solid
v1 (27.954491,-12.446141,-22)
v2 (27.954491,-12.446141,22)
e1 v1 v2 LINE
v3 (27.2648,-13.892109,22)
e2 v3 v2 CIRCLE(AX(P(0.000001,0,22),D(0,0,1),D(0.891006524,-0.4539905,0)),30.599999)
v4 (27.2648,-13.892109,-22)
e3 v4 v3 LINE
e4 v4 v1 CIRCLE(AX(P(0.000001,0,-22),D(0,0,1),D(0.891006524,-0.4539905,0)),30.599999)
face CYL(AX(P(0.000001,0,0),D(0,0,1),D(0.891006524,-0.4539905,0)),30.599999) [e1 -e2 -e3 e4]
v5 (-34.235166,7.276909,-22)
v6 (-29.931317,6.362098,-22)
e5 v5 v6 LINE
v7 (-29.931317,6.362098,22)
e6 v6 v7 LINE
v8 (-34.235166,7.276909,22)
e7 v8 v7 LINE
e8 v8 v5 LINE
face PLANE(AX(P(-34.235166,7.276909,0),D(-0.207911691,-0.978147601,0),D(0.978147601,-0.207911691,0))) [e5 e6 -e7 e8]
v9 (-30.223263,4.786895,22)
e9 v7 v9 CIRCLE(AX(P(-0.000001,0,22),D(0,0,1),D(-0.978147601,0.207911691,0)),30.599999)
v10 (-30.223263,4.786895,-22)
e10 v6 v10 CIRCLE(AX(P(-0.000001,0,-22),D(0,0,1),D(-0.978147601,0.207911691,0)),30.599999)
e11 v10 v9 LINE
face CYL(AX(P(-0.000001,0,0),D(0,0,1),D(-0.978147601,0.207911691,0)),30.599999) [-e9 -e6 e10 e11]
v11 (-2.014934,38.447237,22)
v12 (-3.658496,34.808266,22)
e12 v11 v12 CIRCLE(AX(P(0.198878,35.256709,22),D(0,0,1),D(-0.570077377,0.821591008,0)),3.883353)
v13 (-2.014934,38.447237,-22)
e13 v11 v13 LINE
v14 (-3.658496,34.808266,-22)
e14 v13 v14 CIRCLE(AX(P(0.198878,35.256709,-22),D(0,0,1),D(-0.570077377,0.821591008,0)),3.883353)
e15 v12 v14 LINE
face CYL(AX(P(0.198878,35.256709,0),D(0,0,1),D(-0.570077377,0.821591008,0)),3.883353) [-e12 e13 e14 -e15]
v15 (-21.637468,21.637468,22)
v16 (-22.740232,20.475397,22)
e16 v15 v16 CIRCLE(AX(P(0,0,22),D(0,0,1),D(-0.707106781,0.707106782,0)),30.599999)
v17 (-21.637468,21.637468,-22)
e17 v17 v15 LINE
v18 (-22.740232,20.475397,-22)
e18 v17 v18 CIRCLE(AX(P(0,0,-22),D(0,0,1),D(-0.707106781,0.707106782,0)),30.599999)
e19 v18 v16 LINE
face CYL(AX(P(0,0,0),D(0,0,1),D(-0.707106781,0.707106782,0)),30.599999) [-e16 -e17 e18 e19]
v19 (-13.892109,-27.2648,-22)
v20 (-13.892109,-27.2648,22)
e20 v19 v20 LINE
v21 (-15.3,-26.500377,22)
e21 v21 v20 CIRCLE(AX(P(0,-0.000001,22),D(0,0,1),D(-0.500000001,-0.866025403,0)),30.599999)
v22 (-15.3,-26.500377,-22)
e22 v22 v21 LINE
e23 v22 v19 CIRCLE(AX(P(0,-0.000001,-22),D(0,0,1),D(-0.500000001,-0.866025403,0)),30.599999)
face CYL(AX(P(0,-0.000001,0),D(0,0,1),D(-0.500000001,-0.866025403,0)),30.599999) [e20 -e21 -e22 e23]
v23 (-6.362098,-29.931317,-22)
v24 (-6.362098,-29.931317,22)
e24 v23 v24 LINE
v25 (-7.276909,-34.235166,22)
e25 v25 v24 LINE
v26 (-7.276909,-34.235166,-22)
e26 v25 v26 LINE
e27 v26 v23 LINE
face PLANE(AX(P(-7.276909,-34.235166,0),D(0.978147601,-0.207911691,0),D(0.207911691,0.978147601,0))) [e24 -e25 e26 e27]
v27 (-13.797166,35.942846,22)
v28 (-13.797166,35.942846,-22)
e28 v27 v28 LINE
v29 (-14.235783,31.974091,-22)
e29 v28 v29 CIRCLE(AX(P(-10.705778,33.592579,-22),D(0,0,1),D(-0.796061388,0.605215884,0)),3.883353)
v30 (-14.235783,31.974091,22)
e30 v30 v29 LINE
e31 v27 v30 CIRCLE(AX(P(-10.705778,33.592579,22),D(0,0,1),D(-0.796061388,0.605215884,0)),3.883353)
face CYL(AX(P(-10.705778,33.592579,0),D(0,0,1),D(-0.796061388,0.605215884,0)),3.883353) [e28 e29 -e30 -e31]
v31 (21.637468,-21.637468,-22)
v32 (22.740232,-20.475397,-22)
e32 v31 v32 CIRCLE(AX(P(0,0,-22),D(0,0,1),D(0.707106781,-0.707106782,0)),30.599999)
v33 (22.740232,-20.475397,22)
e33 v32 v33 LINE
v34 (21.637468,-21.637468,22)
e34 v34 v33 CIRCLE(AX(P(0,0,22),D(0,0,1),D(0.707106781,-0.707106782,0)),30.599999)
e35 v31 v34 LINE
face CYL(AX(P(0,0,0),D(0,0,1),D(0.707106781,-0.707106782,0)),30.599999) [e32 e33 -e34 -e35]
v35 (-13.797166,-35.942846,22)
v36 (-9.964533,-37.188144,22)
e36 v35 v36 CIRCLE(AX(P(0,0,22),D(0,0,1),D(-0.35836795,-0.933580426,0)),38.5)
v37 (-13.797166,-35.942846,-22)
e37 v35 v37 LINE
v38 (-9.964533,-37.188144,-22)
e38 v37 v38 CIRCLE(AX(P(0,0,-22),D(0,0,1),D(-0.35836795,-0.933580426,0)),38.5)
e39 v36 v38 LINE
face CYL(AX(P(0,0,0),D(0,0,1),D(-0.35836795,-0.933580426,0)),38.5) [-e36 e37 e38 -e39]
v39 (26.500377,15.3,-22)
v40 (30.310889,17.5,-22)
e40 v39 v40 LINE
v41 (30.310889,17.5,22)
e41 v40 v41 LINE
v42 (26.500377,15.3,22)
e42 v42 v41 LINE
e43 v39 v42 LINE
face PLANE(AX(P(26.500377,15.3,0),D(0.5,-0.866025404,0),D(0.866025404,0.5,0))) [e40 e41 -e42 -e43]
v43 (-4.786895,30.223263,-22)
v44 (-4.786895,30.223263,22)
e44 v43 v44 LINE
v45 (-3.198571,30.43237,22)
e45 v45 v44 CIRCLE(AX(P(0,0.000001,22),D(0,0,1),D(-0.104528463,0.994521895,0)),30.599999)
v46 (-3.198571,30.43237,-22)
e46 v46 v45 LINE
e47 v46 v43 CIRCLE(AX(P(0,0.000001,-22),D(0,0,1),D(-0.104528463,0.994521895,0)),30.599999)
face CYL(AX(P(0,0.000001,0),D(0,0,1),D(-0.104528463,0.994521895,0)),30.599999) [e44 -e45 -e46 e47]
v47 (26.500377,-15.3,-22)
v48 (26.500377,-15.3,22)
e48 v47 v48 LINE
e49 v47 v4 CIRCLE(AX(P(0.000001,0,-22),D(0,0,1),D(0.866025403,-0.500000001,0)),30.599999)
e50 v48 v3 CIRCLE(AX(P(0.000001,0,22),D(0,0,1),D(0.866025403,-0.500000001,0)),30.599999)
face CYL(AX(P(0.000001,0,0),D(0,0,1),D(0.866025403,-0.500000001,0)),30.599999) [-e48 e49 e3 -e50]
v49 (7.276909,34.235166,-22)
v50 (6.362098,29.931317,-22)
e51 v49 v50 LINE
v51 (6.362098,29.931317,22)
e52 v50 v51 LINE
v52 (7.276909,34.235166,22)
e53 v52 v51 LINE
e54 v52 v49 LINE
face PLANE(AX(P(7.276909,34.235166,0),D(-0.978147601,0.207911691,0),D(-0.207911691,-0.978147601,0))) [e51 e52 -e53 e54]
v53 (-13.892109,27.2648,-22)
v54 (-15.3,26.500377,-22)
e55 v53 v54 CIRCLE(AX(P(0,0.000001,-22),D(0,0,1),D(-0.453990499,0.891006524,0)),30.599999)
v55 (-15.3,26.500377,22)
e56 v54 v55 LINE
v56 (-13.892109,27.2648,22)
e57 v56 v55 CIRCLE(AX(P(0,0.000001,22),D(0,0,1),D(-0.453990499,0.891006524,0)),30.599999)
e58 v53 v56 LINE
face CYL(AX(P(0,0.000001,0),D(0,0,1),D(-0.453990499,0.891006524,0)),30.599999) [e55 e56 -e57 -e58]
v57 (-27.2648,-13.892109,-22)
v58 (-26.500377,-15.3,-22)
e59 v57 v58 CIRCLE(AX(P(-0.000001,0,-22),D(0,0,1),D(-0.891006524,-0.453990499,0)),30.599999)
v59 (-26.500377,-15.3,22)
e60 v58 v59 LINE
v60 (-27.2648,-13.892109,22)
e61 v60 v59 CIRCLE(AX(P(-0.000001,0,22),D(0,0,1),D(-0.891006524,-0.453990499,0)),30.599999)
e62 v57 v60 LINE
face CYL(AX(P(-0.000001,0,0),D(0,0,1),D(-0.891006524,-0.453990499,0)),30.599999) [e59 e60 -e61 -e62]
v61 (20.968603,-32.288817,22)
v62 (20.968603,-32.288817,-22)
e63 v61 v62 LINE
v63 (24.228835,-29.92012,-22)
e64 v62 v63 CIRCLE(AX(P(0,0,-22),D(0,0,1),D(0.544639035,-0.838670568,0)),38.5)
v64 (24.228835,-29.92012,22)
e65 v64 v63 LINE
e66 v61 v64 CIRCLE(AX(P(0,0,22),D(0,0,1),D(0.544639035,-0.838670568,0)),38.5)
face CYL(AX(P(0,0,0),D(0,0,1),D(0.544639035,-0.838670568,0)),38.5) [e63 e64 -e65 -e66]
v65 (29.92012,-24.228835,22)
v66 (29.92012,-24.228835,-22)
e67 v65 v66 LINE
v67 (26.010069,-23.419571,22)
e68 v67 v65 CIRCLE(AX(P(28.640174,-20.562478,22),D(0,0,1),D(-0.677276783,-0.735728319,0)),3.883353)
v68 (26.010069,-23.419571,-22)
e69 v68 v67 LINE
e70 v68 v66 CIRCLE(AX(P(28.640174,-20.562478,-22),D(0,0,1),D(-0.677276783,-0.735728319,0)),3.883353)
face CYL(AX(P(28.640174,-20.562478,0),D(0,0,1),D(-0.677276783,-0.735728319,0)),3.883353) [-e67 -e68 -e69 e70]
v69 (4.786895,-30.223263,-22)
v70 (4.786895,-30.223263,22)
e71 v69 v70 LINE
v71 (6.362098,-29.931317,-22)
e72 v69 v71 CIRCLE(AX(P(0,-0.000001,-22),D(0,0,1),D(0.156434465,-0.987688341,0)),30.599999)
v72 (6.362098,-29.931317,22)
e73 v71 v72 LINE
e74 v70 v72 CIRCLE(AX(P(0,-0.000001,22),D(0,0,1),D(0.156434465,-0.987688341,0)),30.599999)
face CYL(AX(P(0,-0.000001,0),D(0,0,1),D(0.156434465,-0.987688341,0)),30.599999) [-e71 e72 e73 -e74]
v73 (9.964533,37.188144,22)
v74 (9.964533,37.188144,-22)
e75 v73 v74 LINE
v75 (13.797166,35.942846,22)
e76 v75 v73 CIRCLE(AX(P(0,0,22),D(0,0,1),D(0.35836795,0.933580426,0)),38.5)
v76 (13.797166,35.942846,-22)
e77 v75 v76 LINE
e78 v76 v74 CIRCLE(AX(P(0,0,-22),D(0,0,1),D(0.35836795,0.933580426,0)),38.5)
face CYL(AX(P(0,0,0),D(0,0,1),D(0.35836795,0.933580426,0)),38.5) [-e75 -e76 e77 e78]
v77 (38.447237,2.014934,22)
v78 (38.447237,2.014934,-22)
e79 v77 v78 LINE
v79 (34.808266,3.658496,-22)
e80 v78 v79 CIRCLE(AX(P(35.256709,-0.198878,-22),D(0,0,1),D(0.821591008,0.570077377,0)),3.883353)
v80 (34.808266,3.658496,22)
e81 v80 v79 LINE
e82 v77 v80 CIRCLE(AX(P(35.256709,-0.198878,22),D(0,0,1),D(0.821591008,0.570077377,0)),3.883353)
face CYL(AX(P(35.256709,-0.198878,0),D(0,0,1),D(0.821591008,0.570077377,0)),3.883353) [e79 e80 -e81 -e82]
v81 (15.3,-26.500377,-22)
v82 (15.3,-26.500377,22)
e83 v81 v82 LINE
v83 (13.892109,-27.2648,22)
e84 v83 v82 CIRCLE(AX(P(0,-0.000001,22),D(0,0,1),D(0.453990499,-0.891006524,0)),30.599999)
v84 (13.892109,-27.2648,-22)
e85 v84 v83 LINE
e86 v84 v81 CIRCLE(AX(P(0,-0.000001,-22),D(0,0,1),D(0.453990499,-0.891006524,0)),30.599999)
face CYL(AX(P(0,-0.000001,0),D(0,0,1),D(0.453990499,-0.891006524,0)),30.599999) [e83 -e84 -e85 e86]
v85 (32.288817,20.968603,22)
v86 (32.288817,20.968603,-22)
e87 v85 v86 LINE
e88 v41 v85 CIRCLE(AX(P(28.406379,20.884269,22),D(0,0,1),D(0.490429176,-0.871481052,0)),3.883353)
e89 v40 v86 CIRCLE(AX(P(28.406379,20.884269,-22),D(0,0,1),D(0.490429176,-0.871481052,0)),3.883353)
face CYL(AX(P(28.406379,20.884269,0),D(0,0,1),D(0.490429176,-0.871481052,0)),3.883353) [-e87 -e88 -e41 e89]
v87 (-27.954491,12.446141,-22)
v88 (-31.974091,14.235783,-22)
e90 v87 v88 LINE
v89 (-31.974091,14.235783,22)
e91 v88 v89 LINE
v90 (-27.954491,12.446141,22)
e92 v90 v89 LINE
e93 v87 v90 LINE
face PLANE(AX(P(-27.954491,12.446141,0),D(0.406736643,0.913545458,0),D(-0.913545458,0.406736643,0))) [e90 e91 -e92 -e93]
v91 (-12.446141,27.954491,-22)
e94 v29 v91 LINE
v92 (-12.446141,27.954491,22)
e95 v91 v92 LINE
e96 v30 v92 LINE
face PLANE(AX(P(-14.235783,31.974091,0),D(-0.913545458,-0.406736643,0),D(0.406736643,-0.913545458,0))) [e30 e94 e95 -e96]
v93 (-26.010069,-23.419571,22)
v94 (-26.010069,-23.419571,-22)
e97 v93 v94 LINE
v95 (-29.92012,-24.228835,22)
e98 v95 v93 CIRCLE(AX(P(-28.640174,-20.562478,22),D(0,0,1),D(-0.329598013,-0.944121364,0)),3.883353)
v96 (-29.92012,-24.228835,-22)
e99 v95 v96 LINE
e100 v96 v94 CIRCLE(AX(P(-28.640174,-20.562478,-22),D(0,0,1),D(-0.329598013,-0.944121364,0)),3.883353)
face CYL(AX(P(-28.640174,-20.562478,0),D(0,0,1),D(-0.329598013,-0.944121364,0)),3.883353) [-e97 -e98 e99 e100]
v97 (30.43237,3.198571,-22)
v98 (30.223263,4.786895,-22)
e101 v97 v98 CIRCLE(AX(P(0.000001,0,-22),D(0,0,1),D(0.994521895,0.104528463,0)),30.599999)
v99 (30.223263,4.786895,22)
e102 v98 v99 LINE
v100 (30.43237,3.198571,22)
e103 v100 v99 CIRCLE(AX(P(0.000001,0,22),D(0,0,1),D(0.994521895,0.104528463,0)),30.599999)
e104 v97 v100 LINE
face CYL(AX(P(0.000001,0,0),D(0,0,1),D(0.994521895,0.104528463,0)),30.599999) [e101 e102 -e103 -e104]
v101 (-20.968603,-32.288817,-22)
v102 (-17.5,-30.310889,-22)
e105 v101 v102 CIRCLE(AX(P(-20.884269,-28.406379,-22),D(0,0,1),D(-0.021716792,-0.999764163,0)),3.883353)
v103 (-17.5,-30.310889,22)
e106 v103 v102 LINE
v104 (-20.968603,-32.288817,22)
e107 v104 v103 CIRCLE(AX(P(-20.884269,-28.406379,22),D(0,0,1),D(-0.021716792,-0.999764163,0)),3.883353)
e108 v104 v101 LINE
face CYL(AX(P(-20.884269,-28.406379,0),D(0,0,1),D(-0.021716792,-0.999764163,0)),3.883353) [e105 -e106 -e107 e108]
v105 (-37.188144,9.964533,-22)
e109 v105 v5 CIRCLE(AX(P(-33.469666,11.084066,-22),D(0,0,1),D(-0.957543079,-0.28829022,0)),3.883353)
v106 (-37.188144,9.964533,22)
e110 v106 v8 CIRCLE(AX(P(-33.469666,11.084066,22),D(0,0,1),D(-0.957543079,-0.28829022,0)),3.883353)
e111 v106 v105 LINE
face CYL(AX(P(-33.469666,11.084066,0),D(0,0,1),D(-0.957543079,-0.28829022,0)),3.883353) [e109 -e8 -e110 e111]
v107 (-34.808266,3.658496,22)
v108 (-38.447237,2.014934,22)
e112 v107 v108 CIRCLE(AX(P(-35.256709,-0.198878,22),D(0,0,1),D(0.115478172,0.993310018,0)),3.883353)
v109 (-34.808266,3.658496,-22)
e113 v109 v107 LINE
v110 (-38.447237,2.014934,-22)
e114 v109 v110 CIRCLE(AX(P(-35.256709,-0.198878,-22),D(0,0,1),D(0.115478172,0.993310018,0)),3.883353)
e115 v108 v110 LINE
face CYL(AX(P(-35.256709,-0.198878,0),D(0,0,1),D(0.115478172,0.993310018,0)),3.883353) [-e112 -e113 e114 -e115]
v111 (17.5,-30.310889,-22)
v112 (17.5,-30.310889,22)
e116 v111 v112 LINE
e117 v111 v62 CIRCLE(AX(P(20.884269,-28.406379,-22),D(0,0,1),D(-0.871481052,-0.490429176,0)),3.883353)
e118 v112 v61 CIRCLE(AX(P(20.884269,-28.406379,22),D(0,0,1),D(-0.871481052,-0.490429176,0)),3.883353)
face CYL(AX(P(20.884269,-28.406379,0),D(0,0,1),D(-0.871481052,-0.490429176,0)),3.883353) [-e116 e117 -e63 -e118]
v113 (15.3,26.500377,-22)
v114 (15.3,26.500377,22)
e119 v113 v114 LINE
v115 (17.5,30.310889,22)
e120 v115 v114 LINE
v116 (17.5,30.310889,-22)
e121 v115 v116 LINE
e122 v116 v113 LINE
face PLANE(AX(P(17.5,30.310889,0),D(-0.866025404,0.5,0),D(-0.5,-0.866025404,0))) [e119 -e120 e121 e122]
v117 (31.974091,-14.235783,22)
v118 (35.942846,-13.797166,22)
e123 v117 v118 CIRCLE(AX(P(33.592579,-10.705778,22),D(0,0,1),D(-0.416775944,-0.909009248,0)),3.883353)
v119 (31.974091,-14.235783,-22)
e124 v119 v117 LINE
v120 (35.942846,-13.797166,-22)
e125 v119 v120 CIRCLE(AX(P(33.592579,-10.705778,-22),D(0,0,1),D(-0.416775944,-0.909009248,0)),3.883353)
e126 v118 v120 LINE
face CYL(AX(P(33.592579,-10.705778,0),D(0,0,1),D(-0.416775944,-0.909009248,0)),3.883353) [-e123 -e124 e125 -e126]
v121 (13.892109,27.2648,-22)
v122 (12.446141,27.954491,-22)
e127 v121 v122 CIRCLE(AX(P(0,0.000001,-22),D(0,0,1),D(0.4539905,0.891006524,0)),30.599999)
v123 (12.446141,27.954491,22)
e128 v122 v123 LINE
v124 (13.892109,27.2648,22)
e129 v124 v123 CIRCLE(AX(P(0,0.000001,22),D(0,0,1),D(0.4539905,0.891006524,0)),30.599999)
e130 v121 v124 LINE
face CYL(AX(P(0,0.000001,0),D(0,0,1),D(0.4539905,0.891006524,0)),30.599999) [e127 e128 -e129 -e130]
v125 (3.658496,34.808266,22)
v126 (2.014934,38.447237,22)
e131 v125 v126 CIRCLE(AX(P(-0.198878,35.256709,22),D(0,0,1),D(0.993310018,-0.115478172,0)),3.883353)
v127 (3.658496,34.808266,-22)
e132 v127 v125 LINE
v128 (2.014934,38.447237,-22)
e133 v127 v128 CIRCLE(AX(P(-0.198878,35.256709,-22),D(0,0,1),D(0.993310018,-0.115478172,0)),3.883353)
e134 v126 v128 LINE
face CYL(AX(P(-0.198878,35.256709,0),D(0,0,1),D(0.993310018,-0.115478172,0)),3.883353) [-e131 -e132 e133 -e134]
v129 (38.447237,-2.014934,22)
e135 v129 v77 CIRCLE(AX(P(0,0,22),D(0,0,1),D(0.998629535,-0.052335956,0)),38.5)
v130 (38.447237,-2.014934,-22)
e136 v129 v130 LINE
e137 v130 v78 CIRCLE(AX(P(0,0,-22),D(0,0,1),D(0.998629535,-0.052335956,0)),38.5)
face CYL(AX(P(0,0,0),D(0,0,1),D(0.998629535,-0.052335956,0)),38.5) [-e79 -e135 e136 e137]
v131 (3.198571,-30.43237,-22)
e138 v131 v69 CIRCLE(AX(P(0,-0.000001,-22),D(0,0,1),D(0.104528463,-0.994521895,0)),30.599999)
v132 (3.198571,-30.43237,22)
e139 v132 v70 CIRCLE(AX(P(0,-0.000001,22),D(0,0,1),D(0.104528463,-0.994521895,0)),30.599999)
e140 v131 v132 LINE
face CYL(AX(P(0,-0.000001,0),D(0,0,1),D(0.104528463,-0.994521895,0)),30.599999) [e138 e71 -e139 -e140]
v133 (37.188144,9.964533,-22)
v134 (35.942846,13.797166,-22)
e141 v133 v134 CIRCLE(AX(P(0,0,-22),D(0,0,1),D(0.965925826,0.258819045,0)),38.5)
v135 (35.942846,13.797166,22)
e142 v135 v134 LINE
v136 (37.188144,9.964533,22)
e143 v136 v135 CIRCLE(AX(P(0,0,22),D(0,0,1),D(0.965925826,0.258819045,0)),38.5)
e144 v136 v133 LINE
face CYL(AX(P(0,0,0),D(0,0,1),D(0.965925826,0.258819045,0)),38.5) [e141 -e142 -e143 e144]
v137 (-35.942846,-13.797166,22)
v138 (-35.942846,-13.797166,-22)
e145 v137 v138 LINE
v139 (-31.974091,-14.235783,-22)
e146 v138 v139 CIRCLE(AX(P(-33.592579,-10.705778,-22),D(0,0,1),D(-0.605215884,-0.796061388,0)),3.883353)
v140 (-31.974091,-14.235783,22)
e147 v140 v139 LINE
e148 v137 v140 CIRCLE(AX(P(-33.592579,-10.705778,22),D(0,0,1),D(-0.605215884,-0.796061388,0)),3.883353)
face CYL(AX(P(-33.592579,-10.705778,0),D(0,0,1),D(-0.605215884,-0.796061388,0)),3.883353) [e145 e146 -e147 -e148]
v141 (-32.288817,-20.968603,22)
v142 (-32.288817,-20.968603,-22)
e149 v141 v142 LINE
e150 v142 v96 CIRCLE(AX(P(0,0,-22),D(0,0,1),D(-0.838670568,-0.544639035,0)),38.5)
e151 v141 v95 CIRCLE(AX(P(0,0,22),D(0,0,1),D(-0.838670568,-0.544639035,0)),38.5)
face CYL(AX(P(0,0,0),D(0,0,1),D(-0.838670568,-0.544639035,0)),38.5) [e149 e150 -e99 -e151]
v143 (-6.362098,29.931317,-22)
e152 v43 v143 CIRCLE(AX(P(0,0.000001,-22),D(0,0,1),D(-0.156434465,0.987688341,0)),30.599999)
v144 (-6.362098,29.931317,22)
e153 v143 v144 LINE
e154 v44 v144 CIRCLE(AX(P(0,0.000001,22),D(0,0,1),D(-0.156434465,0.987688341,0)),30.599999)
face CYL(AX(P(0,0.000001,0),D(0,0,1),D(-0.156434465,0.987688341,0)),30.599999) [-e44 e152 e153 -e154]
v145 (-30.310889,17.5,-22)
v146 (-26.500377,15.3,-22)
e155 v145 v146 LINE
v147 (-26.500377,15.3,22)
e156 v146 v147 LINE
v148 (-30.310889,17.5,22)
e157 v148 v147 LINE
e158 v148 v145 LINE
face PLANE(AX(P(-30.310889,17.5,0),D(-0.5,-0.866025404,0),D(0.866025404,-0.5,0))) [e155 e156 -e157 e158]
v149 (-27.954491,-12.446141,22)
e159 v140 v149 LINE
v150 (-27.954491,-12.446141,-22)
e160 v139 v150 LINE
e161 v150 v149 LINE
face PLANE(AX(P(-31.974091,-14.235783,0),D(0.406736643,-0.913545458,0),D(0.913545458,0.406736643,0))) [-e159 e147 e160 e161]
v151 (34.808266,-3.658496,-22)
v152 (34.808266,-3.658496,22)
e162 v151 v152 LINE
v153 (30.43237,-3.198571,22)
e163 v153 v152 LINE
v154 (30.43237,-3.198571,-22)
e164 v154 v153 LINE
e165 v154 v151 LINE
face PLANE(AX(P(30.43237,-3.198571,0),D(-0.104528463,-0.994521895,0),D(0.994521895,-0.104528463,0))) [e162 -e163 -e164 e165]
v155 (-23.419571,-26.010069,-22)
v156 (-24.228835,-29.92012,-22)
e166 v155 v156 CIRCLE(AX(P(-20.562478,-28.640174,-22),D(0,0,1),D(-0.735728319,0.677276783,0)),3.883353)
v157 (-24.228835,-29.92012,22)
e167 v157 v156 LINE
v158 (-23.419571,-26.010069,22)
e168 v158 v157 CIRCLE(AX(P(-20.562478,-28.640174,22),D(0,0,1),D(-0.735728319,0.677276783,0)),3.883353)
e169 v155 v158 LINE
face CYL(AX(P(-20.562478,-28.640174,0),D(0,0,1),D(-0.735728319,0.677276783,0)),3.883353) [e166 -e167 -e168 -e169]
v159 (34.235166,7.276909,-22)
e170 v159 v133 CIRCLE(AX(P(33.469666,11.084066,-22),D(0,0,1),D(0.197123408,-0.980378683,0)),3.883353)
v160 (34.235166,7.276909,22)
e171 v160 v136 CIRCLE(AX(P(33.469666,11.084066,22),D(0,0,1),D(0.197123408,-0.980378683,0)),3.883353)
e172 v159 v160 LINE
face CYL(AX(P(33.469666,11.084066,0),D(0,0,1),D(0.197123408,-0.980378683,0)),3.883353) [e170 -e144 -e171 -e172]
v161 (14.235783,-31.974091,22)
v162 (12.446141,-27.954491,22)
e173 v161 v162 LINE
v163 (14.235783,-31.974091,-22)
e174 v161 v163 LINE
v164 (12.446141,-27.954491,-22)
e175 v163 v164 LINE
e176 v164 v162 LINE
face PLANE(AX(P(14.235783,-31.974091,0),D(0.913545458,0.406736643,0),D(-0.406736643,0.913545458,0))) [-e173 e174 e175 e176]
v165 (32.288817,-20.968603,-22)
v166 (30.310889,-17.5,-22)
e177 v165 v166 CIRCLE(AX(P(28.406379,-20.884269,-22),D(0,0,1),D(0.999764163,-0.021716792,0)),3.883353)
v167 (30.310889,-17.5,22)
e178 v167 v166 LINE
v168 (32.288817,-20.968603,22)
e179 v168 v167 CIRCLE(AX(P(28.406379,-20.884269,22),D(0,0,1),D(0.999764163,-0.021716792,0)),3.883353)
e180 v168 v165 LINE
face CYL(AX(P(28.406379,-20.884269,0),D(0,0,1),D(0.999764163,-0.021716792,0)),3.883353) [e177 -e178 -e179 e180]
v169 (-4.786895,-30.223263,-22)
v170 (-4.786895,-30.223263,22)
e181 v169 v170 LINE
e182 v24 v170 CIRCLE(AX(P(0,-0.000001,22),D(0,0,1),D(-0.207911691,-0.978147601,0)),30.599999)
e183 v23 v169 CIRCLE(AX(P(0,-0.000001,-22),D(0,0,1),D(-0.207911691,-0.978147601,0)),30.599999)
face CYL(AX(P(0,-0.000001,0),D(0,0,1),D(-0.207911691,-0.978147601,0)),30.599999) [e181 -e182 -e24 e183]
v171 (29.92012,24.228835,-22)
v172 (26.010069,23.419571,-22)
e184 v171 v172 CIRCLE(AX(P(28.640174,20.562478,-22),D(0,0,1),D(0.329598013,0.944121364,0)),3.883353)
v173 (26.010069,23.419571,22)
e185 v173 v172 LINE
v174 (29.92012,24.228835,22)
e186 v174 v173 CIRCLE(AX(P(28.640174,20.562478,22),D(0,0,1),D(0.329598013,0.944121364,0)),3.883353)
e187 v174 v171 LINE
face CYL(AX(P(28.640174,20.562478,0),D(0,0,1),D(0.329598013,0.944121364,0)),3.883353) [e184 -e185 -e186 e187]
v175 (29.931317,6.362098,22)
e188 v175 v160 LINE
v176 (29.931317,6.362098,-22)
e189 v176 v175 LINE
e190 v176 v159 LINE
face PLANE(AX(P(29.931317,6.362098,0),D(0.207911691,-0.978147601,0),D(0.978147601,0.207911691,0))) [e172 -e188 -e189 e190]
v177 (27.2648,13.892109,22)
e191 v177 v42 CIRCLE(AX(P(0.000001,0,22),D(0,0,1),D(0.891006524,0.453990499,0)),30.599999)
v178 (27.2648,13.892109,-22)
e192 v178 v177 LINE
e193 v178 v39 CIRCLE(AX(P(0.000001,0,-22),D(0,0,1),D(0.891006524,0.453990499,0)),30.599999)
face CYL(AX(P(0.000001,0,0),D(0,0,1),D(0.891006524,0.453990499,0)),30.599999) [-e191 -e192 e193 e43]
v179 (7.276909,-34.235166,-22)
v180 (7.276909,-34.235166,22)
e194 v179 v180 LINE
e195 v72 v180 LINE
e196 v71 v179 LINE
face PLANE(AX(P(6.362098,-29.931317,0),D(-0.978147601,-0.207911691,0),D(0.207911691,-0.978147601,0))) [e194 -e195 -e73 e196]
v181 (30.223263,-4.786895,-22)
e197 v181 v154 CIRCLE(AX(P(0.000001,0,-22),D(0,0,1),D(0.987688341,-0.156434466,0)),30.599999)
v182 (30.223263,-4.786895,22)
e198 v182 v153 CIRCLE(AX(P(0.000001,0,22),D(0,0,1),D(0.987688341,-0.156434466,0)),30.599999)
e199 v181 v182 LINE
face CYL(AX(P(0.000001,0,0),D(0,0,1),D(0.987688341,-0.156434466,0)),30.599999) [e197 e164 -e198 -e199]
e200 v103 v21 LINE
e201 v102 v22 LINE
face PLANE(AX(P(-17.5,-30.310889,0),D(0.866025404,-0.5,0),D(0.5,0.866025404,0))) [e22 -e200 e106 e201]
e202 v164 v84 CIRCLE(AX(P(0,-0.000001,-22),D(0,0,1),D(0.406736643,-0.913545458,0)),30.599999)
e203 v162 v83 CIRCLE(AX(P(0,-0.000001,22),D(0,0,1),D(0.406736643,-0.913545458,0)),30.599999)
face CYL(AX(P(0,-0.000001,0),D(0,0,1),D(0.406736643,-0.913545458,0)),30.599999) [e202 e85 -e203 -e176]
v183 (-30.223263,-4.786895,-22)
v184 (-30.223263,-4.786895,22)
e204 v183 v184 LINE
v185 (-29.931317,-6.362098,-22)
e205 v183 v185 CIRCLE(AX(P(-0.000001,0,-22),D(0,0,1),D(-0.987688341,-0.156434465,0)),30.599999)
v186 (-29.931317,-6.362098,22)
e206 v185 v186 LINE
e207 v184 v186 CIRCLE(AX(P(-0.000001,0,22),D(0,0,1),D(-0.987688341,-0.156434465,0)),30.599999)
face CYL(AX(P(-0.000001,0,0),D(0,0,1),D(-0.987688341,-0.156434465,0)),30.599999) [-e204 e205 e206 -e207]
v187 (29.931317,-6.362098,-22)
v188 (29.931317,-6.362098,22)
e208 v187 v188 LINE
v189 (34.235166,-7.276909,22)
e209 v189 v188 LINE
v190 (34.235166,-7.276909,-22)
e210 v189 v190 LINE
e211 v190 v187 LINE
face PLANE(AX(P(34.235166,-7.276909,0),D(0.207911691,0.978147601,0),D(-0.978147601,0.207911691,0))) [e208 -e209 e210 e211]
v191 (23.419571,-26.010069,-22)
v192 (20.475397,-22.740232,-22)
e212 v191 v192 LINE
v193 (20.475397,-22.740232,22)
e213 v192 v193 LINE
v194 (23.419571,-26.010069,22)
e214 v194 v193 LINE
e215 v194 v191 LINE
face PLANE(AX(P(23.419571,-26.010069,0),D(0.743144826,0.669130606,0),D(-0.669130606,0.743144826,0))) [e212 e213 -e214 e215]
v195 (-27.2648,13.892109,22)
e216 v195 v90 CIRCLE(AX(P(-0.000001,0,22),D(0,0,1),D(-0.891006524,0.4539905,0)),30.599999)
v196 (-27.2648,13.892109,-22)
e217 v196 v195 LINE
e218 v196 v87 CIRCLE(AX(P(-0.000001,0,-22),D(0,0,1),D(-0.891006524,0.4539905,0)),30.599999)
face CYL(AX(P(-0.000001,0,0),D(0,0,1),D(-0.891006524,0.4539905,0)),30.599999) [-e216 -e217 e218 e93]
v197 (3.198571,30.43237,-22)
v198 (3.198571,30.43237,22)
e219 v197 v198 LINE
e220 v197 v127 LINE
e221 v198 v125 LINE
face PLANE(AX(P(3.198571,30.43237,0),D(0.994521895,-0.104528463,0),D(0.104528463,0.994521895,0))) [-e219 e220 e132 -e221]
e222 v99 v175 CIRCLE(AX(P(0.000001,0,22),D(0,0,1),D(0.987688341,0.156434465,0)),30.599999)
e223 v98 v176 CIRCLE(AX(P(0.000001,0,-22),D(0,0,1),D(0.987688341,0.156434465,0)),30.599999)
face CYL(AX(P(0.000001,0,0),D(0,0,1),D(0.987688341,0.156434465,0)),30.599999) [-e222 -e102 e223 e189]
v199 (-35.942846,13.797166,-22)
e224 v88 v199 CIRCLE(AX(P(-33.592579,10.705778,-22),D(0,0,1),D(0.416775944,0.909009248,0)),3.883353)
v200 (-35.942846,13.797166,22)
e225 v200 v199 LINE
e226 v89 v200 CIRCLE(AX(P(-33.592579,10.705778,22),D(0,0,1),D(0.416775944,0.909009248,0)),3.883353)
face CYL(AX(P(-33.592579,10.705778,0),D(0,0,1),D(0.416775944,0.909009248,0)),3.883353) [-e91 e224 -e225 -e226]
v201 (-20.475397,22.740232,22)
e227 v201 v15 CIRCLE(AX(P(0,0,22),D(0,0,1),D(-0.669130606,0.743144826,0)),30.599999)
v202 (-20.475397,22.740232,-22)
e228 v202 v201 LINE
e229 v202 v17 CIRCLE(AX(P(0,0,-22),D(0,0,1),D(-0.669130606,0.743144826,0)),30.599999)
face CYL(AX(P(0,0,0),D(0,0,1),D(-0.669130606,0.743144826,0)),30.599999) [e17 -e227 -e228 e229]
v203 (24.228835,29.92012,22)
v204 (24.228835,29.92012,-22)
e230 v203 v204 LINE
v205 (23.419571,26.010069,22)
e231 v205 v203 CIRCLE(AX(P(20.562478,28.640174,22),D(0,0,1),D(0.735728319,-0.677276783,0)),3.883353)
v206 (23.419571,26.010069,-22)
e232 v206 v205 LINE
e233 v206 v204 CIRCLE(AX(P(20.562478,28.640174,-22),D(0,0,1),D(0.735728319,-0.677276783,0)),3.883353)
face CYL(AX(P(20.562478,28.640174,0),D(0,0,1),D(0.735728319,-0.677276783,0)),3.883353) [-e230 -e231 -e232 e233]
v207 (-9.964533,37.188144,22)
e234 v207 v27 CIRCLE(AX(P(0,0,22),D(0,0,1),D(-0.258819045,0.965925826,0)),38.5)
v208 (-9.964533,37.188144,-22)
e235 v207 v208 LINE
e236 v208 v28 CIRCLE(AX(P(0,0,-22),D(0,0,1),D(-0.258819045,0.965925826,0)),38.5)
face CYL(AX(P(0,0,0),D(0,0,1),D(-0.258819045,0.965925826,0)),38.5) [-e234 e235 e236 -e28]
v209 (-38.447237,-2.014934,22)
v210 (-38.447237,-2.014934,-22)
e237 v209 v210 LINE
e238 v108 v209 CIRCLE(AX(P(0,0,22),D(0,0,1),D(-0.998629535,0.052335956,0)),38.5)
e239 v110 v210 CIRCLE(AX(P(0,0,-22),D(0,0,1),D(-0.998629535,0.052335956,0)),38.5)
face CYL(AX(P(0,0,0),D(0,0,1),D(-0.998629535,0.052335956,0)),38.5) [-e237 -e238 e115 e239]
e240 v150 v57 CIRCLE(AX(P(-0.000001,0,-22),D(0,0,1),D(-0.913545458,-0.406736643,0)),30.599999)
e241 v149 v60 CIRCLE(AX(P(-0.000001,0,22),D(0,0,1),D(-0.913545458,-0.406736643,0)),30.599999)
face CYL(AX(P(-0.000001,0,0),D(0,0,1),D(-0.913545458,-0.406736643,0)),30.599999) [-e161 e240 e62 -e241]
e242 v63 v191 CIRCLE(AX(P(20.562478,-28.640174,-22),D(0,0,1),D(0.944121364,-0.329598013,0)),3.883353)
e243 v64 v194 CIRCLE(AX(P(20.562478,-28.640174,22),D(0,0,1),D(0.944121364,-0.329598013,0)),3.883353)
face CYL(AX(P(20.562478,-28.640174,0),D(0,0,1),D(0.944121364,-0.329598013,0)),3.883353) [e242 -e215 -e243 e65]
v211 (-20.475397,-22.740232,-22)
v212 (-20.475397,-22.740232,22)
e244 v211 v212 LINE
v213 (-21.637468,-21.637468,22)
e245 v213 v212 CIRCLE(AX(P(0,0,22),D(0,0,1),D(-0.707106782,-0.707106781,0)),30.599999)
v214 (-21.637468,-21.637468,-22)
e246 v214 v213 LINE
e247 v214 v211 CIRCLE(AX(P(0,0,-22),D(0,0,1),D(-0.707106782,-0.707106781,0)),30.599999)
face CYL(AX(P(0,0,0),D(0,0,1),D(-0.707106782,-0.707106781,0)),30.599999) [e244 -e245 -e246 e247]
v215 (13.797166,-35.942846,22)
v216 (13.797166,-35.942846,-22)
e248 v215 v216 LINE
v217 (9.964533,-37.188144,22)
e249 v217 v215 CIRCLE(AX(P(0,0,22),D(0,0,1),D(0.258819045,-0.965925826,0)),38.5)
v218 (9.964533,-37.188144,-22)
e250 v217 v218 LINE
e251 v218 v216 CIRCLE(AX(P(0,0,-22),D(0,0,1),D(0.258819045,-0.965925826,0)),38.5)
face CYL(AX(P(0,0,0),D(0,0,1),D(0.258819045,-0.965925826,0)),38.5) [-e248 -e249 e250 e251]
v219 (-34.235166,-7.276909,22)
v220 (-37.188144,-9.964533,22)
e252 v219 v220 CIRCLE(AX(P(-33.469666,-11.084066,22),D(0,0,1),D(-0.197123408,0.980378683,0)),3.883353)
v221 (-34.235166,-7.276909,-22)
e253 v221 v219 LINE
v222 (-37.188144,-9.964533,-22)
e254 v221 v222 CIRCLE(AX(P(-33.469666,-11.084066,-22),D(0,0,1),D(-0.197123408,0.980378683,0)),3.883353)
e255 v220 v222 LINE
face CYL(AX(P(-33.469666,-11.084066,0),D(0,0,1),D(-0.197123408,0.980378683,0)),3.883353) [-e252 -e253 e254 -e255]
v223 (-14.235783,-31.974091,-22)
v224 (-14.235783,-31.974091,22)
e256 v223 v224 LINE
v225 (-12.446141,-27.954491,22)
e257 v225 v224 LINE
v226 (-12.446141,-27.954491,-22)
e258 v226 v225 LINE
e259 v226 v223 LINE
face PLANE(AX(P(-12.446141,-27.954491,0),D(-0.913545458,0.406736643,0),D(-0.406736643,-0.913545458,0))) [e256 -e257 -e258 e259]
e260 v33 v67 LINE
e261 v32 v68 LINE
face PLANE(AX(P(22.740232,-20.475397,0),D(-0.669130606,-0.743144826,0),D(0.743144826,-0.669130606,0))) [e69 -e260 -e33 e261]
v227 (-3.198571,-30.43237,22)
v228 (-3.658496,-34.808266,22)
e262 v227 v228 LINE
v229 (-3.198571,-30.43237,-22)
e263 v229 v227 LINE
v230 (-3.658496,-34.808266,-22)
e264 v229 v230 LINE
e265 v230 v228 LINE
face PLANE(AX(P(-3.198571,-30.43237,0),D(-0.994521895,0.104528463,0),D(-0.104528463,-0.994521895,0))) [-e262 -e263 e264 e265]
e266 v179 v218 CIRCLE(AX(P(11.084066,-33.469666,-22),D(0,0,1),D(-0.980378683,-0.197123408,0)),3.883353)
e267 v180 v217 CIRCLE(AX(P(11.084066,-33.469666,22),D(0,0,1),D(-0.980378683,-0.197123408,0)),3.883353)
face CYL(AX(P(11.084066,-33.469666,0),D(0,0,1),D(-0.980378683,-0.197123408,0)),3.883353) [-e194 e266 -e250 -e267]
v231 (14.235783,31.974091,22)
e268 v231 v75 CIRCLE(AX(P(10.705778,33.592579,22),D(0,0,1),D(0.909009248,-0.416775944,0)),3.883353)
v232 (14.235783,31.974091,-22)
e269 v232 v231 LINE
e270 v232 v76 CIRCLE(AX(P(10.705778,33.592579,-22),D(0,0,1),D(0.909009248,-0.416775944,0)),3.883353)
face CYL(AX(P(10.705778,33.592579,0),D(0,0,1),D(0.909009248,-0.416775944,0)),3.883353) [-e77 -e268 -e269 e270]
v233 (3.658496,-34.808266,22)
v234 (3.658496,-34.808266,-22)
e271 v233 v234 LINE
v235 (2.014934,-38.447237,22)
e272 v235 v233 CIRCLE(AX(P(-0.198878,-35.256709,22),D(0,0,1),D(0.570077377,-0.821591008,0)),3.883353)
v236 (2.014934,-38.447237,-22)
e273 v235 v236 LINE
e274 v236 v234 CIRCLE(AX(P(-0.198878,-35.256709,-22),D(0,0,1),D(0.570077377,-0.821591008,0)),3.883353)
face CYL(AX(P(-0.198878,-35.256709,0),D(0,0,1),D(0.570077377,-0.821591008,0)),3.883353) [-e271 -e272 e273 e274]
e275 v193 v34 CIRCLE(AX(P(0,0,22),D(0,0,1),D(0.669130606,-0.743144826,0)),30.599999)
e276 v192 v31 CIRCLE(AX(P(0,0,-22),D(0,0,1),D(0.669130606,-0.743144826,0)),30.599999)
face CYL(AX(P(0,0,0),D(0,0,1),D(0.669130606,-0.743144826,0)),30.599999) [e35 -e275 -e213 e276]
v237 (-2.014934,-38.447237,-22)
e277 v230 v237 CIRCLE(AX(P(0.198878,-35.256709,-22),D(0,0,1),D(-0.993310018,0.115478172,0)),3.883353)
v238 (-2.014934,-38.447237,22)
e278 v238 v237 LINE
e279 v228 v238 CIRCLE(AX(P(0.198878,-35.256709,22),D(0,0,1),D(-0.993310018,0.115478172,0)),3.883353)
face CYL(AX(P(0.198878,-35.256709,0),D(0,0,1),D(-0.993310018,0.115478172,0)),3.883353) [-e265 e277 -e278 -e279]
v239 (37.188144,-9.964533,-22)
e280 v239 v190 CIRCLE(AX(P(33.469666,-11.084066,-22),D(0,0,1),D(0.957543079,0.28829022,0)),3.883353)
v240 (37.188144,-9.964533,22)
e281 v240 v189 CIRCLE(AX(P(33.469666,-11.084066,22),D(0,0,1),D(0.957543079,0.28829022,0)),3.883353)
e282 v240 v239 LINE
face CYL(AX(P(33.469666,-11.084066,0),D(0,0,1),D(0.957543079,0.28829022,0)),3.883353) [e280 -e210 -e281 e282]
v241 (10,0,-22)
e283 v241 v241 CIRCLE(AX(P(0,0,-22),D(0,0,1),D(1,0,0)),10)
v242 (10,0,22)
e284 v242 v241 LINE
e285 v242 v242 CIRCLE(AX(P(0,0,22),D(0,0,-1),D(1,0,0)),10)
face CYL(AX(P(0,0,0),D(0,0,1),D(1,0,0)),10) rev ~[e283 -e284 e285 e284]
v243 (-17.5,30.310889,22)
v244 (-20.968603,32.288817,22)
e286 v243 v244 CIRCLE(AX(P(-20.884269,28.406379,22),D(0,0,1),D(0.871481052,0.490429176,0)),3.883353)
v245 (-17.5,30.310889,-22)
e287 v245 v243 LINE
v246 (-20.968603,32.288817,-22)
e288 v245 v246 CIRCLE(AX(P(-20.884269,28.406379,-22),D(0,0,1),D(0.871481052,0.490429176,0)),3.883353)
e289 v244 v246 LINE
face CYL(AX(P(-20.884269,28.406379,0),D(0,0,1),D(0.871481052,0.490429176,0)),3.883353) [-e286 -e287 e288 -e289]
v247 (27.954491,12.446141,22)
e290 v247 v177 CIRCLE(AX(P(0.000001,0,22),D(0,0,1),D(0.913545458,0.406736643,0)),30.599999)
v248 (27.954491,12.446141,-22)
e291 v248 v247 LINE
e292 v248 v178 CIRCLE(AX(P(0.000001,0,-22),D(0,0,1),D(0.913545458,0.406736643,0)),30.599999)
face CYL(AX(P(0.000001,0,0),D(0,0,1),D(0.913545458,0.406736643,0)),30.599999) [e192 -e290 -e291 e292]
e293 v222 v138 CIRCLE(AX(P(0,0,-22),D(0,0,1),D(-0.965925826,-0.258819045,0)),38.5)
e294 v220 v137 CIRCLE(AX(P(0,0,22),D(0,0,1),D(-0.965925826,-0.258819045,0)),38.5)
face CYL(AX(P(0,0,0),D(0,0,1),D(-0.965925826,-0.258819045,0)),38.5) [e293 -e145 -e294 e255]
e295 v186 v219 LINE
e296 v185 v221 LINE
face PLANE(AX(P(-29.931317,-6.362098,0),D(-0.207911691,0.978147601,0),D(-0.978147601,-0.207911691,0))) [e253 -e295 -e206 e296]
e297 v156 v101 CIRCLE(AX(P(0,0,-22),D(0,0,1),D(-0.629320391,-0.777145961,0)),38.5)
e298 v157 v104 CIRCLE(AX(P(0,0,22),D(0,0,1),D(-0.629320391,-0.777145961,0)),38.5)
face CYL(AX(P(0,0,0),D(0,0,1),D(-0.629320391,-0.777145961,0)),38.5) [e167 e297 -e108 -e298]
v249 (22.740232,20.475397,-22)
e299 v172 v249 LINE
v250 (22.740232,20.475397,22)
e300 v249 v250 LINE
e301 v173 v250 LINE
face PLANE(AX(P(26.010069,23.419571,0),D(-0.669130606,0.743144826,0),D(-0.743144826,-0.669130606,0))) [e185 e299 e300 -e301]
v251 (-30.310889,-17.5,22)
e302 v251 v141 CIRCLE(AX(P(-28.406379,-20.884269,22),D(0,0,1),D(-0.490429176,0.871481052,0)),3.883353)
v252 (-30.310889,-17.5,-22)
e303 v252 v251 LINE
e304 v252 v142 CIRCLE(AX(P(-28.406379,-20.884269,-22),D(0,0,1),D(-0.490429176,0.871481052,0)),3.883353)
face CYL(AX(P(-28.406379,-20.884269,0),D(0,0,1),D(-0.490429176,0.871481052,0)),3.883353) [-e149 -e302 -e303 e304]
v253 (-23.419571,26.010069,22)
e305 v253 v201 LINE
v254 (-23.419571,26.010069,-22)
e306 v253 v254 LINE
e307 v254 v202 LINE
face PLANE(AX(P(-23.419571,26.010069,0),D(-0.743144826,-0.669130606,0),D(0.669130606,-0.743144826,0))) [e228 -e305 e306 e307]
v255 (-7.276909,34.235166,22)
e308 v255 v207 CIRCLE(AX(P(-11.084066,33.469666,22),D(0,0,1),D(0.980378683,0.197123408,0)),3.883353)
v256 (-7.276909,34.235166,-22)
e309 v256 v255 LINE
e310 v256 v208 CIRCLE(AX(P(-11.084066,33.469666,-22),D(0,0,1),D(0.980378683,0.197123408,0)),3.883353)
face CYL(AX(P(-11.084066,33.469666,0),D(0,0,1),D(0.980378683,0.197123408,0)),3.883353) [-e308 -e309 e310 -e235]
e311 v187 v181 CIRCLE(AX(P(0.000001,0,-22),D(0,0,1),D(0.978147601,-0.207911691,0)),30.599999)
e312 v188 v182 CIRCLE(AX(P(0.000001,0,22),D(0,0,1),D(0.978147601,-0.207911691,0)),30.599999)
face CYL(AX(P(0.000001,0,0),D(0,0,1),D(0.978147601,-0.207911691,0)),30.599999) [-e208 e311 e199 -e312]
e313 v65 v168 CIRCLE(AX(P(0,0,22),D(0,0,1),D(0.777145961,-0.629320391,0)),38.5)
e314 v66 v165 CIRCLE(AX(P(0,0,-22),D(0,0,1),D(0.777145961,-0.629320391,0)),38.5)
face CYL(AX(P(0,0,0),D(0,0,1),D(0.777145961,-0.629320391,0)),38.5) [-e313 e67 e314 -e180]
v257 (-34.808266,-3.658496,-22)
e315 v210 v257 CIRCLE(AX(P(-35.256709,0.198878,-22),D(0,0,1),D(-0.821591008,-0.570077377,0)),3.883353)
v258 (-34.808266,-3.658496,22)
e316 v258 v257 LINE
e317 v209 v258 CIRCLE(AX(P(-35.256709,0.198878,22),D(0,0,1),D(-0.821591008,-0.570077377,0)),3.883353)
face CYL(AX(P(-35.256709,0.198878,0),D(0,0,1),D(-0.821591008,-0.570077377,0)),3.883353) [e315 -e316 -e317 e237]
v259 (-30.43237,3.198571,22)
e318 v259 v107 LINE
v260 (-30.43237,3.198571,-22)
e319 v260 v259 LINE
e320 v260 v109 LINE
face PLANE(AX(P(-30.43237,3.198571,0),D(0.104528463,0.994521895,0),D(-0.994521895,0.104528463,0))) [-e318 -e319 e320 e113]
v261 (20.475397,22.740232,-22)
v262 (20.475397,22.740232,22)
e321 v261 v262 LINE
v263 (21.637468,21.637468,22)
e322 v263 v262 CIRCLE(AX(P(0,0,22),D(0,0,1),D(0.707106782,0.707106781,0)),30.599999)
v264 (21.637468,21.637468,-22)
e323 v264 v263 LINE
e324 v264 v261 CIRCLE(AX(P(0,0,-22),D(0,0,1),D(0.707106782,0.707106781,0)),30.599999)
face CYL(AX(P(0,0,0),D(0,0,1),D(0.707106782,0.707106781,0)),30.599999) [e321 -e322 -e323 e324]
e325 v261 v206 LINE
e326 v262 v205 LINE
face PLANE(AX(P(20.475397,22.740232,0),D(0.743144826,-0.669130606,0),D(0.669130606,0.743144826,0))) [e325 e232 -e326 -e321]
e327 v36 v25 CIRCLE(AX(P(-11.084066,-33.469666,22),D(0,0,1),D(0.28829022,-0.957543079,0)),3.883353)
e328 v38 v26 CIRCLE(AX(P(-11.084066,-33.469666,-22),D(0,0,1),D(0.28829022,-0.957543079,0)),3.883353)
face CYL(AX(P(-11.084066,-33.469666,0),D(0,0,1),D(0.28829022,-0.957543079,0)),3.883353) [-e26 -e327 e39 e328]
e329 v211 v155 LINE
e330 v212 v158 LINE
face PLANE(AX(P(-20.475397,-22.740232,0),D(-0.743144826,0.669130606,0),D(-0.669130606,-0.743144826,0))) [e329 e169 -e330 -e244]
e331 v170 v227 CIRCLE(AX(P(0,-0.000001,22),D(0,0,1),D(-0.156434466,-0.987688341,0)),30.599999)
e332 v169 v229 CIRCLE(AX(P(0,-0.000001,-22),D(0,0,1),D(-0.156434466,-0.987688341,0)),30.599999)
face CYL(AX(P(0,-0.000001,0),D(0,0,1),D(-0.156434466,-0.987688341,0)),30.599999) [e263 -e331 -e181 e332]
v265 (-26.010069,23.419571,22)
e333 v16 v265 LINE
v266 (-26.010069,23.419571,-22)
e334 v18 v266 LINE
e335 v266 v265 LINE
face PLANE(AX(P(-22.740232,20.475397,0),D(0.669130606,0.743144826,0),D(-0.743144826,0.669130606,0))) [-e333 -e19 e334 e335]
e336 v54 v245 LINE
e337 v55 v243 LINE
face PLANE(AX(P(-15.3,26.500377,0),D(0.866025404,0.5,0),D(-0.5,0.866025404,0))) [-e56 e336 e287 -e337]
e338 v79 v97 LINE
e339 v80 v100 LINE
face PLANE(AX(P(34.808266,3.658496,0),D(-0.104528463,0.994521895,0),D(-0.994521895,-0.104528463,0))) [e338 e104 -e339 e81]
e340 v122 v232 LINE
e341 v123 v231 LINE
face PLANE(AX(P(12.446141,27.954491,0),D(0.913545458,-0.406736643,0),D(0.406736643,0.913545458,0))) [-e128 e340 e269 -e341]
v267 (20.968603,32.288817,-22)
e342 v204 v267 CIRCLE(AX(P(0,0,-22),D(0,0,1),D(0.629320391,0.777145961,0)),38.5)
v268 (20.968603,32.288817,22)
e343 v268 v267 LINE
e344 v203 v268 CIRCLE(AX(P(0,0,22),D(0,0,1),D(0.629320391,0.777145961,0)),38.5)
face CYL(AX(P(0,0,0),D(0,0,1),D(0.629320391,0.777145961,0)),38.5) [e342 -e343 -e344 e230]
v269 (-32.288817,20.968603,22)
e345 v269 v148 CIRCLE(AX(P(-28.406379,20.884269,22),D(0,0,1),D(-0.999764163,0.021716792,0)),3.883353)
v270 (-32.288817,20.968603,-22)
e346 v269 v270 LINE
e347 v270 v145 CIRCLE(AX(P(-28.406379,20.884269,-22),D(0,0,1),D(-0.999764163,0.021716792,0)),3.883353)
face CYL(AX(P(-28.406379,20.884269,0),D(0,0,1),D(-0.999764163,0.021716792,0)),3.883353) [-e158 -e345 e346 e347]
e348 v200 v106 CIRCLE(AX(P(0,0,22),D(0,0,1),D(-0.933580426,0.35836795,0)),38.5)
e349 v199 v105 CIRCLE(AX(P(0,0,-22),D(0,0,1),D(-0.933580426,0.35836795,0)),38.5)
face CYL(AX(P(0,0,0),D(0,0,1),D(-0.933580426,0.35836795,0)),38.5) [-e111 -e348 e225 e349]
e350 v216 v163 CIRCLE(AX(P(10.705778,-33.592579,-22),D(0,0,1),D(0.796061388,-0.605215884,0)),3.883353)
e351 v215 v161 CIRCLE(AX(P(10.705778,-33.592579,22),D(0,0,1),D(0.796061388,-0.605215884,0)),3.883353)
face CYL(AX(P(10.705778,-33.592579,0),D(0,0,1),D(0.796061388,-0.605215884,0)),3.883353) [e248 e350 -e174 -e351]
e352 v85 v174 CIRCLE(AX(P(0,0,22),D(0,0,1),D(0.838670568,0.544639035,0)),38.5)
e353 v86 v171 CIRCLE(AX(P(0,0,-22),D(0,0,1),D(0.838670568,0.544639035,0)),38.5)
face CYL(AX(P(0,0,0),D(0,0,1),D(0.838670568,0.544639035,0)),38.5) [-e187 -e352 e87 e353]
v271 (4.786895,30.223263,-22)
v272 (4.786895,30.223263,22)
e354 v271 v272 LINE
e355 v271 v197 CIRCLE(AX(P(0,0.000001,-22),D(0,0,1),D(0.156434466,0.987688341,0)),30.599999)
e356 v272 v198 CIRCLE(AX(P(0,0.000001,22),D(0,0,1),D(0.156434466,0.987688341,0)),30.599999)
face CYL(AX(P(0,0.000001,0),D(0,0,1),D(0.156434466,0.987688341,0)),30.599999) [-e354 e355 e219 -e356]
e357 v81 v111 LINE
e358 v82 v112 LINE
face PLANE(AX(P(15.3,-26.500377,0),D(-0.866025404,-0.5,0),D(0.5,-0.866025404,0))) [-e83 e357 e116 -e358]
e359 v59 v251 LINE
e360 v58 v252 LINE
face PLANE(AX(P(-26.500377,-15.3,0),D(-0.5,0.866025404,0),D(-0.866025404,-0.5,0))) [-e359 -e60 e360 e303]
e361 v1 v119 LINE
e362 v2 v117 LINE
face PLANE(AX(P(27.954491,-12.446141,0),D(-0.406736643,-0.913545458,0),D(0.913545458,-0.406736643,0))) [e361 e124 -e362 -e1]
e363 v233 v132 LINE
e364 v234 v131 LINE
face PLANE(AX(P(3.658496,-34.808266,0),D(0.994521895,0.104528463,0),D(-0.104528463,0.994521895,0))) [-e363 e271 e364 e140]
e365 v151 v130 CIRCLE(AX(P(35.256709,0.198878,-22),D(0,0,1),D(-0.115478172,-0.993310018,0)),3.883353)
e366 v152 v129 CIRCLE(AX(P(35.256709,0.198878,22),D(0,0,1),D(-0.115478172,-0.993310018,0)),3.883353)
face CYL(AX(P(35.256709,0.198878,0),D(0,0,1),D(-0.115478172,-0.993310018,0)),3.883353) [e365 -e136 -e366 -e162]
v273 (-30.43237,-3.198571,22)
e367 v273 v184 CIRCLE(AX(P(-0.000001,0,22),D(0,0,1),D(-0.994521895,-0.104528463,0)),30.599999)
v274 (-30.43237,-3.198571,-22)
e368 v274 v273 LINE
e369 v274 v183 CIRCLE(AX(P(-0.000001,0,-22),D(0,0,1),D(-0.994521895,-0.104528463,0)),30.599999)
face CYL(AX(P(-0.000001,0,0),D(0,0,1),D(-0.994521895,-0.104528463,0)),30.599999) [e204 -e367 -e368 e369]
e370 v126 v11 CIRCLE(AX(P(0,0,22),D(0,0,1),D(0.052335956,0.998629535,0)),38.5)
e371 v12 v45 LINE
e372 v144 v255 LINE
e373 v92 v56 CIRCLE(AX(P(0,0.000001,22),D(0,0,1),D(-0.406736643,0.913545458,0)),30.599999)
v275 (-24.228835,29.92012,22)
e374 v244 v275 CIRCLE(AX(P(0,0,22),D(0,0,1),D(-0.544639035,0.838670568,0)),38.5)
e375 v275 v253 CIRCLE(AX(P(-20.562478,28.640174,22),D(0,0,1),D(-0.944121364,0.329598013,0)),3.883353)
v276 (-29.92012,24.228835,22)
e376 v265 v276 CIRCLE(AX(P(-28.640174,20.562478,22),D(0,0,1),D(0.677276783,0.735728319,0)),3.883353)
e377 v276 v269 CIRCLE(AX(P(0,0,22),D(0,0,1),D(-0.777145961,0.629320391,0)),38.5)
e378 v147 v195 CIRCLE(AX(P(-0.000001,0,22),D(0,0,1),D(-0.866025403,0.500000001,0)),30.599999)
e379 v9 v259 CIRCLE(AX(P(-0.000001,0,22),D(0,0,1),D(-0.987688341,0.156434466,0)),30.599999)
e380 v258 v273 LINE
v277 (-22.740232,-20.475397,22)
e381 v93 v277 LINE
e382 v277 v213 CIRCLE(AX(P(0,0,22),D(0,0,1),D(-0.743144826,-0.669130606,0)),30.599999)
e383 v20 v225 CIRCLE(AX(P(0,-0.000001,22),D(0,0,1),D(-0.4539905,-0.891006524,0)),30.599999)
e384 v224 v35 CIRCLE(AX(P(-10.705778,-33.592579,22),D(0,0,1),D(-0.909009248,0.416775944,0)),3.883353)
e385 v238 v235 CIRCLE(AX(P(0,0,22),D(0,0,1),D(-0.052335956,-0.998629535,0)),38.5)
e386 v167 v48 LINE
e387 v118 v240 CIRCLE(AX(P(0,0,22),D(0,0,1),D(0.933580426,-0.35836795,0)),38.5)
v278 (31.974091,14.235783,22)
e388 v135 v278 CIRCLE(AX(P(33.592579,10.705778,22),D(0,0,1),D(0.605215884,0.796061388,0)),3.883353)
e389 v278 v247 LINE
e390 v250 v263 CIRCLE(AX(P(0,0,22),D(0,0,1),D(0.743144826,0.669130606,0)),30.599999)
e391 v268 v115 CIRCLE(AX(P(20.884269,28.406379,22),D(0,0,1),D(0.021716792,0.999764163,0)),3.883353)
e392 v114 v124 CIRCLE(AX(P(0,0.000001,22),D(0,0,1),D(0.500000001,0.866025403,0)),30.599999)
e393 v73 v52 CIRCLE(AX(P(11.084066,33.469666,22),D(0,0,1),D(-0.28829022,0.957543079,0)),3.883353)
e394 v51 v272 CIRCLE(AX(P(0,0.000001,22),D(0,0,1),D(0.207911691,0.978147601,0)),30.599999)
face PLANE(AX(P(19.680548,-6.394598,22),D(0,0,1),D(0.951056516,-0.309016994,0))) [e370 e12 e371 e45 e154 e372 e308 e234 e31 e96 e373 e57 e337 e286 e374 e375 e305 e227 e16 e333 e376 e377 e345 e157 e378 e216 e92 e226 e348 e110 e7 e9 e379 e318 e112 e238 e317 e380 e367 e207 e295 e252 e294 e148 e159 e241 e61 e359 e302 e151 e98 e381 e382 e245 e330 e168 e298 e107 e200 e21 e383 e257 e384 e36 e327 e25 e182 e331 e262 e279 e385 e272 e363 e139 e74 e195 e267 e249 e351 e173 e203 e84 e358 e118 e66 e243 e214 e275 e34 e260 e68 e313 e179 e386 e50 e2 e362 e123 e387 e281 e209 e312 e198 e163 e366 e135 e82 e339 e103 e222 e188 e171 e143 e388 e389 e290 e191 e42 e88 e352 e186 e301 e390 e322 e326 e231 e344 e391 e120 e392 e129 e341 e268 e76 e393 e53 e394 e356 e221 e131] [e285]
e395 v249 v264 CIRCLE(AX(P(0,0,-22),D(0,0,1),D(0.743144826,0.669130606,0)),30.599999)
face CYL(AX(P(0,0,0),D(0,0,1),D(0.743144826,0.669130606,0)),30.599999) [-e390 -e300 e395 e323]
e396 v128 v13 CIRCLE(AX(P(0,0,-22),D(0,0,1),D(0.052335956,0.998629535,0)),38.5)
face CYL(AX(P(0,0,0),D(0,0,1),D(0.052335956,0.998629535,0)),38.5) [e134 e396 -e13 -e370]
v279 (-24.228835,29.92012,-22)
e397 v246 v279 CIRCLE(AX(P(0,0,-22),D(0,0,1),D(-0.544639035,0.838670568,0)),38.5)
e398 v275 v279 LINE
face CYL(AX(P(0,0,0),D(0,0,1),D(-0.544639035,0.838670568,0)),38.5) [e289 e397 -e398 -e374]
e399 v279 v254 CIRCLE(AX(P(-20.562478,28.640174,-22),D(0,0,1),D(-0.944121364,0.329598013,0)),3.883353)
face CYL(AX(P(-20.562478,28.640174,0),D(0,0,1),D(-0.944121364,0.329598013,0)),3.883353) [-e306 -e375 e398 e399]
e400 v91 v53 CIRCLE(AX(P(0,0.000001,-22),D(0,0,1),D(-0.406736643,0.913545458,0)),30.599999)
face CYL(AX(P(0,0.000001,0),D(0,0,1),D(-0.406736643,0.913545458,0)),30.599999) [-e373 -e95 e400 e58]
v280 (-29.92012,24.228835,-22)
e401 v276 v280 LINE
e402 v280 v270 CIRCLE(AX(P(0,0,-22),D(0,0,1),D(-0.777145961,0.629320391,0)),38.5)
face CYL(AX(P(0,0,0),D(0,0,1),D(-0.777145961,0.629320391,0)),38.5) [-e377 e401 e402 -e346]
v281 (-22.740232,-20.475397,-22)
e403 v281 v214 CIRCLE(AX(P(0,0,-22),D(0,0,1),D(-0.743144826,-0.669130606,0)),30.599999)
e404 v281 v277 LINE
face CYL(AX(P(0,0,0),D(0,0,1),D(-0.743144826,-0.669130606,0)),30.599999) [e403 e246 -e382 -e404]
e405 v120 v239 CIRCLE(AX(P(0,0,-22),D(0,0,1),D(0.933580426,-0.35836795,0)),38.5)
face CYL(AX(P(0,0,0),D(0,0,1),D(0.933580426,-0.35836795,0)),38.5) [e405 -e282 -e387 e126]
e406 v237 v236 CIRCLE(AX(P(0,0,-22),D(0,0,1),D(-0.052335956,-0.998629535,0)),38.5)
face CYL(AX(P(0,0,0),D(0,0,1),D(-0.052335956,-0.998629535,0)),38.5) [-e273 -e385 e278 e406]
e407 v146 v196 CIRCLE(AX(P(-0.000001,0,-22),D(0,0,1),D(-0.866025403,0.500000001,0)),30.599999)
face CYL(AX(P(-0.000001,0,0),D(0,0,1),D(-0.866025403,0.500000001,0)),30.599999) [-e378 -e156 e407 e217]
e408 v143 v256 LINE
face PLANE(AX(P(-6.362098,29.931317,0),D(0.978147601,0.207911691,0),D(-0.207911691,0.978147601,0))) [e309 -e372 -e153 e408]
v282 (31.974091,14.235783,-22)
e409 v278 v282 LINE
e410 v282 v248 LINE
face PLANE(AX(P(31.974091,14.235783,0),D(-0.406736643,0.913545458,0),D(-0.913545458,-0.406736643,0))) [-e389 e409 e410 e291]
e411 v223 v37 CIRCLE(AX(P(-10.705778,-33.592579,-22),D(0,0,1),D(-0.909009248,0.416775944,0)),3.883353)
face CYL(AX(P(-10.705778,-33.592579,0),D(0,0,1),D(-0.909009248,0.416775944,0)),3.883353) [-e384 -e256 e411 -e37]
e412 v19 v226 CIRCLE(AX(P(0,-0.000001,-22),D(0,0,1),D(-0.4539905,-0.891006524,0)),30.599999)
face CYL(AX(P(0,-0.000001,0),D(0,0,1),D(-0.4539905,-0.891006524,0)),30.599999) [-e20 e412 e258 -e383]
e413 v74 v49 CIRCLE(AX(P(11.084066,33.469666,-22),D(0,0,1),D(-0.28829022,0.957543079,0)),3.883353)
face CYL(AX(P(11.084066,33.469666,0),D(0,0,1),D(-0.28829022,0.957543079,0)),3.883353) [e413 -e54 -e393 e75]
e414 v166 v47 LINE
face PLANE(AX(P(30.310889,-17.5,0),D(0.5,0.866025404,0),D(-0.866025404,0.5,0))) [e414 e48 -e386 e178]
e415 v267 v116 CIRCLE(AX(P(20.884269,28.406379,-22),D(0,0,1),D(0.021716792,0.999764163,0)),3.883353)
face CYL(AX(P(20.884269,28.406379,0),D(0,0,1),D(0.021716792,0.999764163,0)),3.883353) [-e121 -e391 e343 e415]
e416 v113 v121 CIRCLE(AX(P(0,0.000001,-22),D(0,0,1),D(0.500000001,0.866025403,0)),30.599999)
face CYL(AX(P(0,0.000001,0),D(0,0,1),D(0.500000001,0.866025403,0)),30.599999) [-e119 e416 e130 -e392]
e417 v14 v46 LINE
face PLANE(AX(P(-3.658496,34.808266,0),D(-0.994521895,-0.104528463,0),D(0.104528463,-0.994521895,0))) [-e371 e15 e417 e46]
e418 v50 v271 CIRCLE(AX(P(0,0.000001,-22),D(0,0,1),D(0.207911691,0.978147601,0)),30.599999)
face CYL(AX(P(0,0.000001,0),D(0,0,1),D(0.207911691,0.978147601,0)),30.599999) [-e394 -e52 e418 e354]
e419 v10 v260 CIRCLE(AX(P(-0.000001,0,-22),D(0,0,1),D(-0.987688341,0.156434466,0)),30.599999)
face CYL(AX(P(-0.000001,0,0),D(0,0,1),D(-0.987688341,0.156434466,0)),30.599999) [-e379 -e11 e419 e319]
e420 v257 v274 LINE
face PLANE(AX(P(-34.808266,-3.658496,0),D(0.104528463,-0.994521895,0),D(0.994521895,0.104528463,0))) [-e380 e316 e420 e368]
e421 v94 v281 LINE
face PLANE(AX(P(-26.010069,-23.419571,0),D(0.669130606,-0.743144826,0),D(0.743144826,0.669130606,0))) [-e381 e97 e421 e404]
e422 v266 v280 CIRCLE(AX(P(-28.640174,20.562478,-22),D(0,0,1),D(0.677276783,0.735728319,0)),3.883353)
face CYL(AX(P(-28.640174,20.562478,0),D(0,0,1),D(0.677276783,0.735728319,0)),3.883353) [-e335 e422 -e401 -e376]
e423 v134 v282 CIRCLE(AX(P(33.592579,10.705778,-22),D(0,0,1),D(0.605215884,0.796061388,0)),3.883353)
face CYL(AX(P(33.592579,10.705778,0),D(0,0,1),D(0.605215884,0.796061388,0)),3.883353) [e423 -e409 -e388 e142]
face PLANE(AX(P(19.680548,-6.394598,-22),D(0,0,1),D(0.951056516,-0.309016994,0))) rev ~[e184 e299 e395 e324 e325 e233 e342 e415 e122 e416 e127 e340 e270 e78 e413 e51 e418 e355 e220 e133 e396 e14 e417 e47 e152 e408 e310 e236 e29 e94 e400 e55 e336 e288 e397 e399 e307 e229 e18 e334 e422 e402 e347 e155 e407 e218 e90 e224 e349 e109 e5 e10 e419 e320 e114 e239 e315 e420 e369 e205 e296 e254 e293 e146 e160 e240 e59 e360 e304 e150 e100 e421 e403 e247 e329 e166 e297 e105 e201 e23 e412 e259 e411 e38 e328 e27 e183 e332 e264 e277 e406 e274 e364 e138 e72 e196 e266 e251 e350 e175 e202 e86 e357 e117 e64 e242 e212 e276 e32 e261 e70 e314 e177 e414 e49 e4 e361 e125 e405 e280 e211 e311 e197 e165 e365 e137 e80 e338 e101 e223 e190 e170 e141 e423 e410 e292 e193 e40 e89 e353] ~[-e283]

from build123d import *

# Parameters (mm, degrees)
BOSS_EXTRUDE3_DEPTH     = 22
CIRPATTERN3_COUNT       = 20
SKETCH2_R               = 10
CUT_EXTRUDE1_DEPTH      = 23
CUT_EXTRUDE1_DEPTH_BACK = 23


with BuildPart() as part:
    # Sketch1 → Boss-Extrude3 (new body, symmetric)
    with BuildSketch(Plane.XY):
        with BuildLine():
            Line((34.808266338, 3.658496214), (30.432369998, 3.198570976))
            ThreePointArc((30.432369998, 3.198570976), (30.338212758, 3.994101482), (30.223263222, 4.78689463))
            Line((30.223263222, 4.78689463), (0, 0))
            Line((0, 0), (30.223263222, -4.78689463))
            ThreePointArc((30.223263222, -4.78689463), (30.338212758, -3.994101482), (30.432369998, -3.198570976))
            Line((30.432369998, -3.198570976), (34.808266338, -3.658496214))
            ThreePointArc((34.808266338, -3.658496214), (36.855171385, -3.340239675), (38.447237088, -2.014934315))
            ThreePointArc((38.447237088, -2.014934315), (38.5, 0), (38.447237088, 2.014934315))
            ThreePointArc((38.447237088, 2.014934315), (36.855171385, 3.340239675), (34.808266338, 3.658496214))
        make_face()
    boss_extrude3 = extrude(amount=BOSS_EXTRUDE3_DEPTH, both=True)

    # CirPattern3: Boss-Extrude3 ×20 about axis
    cirpattern3_axis = Axis((0, 0, 0), (0, 0, 1))
    for i in range(1, CIRPATTERN3_COUNT):
        add(boss_extrude3.rotate(cirpattern3_axis, i * 360 / CIRPATTERN3_COUNT))

    # Sketch2 → Cut-Extrude1 (cut, two sides)
    with BuildSketch(Plane.XY) as cut_extrude1_sk:
        Circle(SKETCH2_R)
    extrude(amount=CUT_EXTRUDE1_DEPTH, mode=Mode.SUBTRACT)
    extrude(cut_extrude1_sk.sketch, amount=-CUT_EXTRUDE1_DEPTH_BACK, mode=Mode.SUBTRACT)


solid = part.part
